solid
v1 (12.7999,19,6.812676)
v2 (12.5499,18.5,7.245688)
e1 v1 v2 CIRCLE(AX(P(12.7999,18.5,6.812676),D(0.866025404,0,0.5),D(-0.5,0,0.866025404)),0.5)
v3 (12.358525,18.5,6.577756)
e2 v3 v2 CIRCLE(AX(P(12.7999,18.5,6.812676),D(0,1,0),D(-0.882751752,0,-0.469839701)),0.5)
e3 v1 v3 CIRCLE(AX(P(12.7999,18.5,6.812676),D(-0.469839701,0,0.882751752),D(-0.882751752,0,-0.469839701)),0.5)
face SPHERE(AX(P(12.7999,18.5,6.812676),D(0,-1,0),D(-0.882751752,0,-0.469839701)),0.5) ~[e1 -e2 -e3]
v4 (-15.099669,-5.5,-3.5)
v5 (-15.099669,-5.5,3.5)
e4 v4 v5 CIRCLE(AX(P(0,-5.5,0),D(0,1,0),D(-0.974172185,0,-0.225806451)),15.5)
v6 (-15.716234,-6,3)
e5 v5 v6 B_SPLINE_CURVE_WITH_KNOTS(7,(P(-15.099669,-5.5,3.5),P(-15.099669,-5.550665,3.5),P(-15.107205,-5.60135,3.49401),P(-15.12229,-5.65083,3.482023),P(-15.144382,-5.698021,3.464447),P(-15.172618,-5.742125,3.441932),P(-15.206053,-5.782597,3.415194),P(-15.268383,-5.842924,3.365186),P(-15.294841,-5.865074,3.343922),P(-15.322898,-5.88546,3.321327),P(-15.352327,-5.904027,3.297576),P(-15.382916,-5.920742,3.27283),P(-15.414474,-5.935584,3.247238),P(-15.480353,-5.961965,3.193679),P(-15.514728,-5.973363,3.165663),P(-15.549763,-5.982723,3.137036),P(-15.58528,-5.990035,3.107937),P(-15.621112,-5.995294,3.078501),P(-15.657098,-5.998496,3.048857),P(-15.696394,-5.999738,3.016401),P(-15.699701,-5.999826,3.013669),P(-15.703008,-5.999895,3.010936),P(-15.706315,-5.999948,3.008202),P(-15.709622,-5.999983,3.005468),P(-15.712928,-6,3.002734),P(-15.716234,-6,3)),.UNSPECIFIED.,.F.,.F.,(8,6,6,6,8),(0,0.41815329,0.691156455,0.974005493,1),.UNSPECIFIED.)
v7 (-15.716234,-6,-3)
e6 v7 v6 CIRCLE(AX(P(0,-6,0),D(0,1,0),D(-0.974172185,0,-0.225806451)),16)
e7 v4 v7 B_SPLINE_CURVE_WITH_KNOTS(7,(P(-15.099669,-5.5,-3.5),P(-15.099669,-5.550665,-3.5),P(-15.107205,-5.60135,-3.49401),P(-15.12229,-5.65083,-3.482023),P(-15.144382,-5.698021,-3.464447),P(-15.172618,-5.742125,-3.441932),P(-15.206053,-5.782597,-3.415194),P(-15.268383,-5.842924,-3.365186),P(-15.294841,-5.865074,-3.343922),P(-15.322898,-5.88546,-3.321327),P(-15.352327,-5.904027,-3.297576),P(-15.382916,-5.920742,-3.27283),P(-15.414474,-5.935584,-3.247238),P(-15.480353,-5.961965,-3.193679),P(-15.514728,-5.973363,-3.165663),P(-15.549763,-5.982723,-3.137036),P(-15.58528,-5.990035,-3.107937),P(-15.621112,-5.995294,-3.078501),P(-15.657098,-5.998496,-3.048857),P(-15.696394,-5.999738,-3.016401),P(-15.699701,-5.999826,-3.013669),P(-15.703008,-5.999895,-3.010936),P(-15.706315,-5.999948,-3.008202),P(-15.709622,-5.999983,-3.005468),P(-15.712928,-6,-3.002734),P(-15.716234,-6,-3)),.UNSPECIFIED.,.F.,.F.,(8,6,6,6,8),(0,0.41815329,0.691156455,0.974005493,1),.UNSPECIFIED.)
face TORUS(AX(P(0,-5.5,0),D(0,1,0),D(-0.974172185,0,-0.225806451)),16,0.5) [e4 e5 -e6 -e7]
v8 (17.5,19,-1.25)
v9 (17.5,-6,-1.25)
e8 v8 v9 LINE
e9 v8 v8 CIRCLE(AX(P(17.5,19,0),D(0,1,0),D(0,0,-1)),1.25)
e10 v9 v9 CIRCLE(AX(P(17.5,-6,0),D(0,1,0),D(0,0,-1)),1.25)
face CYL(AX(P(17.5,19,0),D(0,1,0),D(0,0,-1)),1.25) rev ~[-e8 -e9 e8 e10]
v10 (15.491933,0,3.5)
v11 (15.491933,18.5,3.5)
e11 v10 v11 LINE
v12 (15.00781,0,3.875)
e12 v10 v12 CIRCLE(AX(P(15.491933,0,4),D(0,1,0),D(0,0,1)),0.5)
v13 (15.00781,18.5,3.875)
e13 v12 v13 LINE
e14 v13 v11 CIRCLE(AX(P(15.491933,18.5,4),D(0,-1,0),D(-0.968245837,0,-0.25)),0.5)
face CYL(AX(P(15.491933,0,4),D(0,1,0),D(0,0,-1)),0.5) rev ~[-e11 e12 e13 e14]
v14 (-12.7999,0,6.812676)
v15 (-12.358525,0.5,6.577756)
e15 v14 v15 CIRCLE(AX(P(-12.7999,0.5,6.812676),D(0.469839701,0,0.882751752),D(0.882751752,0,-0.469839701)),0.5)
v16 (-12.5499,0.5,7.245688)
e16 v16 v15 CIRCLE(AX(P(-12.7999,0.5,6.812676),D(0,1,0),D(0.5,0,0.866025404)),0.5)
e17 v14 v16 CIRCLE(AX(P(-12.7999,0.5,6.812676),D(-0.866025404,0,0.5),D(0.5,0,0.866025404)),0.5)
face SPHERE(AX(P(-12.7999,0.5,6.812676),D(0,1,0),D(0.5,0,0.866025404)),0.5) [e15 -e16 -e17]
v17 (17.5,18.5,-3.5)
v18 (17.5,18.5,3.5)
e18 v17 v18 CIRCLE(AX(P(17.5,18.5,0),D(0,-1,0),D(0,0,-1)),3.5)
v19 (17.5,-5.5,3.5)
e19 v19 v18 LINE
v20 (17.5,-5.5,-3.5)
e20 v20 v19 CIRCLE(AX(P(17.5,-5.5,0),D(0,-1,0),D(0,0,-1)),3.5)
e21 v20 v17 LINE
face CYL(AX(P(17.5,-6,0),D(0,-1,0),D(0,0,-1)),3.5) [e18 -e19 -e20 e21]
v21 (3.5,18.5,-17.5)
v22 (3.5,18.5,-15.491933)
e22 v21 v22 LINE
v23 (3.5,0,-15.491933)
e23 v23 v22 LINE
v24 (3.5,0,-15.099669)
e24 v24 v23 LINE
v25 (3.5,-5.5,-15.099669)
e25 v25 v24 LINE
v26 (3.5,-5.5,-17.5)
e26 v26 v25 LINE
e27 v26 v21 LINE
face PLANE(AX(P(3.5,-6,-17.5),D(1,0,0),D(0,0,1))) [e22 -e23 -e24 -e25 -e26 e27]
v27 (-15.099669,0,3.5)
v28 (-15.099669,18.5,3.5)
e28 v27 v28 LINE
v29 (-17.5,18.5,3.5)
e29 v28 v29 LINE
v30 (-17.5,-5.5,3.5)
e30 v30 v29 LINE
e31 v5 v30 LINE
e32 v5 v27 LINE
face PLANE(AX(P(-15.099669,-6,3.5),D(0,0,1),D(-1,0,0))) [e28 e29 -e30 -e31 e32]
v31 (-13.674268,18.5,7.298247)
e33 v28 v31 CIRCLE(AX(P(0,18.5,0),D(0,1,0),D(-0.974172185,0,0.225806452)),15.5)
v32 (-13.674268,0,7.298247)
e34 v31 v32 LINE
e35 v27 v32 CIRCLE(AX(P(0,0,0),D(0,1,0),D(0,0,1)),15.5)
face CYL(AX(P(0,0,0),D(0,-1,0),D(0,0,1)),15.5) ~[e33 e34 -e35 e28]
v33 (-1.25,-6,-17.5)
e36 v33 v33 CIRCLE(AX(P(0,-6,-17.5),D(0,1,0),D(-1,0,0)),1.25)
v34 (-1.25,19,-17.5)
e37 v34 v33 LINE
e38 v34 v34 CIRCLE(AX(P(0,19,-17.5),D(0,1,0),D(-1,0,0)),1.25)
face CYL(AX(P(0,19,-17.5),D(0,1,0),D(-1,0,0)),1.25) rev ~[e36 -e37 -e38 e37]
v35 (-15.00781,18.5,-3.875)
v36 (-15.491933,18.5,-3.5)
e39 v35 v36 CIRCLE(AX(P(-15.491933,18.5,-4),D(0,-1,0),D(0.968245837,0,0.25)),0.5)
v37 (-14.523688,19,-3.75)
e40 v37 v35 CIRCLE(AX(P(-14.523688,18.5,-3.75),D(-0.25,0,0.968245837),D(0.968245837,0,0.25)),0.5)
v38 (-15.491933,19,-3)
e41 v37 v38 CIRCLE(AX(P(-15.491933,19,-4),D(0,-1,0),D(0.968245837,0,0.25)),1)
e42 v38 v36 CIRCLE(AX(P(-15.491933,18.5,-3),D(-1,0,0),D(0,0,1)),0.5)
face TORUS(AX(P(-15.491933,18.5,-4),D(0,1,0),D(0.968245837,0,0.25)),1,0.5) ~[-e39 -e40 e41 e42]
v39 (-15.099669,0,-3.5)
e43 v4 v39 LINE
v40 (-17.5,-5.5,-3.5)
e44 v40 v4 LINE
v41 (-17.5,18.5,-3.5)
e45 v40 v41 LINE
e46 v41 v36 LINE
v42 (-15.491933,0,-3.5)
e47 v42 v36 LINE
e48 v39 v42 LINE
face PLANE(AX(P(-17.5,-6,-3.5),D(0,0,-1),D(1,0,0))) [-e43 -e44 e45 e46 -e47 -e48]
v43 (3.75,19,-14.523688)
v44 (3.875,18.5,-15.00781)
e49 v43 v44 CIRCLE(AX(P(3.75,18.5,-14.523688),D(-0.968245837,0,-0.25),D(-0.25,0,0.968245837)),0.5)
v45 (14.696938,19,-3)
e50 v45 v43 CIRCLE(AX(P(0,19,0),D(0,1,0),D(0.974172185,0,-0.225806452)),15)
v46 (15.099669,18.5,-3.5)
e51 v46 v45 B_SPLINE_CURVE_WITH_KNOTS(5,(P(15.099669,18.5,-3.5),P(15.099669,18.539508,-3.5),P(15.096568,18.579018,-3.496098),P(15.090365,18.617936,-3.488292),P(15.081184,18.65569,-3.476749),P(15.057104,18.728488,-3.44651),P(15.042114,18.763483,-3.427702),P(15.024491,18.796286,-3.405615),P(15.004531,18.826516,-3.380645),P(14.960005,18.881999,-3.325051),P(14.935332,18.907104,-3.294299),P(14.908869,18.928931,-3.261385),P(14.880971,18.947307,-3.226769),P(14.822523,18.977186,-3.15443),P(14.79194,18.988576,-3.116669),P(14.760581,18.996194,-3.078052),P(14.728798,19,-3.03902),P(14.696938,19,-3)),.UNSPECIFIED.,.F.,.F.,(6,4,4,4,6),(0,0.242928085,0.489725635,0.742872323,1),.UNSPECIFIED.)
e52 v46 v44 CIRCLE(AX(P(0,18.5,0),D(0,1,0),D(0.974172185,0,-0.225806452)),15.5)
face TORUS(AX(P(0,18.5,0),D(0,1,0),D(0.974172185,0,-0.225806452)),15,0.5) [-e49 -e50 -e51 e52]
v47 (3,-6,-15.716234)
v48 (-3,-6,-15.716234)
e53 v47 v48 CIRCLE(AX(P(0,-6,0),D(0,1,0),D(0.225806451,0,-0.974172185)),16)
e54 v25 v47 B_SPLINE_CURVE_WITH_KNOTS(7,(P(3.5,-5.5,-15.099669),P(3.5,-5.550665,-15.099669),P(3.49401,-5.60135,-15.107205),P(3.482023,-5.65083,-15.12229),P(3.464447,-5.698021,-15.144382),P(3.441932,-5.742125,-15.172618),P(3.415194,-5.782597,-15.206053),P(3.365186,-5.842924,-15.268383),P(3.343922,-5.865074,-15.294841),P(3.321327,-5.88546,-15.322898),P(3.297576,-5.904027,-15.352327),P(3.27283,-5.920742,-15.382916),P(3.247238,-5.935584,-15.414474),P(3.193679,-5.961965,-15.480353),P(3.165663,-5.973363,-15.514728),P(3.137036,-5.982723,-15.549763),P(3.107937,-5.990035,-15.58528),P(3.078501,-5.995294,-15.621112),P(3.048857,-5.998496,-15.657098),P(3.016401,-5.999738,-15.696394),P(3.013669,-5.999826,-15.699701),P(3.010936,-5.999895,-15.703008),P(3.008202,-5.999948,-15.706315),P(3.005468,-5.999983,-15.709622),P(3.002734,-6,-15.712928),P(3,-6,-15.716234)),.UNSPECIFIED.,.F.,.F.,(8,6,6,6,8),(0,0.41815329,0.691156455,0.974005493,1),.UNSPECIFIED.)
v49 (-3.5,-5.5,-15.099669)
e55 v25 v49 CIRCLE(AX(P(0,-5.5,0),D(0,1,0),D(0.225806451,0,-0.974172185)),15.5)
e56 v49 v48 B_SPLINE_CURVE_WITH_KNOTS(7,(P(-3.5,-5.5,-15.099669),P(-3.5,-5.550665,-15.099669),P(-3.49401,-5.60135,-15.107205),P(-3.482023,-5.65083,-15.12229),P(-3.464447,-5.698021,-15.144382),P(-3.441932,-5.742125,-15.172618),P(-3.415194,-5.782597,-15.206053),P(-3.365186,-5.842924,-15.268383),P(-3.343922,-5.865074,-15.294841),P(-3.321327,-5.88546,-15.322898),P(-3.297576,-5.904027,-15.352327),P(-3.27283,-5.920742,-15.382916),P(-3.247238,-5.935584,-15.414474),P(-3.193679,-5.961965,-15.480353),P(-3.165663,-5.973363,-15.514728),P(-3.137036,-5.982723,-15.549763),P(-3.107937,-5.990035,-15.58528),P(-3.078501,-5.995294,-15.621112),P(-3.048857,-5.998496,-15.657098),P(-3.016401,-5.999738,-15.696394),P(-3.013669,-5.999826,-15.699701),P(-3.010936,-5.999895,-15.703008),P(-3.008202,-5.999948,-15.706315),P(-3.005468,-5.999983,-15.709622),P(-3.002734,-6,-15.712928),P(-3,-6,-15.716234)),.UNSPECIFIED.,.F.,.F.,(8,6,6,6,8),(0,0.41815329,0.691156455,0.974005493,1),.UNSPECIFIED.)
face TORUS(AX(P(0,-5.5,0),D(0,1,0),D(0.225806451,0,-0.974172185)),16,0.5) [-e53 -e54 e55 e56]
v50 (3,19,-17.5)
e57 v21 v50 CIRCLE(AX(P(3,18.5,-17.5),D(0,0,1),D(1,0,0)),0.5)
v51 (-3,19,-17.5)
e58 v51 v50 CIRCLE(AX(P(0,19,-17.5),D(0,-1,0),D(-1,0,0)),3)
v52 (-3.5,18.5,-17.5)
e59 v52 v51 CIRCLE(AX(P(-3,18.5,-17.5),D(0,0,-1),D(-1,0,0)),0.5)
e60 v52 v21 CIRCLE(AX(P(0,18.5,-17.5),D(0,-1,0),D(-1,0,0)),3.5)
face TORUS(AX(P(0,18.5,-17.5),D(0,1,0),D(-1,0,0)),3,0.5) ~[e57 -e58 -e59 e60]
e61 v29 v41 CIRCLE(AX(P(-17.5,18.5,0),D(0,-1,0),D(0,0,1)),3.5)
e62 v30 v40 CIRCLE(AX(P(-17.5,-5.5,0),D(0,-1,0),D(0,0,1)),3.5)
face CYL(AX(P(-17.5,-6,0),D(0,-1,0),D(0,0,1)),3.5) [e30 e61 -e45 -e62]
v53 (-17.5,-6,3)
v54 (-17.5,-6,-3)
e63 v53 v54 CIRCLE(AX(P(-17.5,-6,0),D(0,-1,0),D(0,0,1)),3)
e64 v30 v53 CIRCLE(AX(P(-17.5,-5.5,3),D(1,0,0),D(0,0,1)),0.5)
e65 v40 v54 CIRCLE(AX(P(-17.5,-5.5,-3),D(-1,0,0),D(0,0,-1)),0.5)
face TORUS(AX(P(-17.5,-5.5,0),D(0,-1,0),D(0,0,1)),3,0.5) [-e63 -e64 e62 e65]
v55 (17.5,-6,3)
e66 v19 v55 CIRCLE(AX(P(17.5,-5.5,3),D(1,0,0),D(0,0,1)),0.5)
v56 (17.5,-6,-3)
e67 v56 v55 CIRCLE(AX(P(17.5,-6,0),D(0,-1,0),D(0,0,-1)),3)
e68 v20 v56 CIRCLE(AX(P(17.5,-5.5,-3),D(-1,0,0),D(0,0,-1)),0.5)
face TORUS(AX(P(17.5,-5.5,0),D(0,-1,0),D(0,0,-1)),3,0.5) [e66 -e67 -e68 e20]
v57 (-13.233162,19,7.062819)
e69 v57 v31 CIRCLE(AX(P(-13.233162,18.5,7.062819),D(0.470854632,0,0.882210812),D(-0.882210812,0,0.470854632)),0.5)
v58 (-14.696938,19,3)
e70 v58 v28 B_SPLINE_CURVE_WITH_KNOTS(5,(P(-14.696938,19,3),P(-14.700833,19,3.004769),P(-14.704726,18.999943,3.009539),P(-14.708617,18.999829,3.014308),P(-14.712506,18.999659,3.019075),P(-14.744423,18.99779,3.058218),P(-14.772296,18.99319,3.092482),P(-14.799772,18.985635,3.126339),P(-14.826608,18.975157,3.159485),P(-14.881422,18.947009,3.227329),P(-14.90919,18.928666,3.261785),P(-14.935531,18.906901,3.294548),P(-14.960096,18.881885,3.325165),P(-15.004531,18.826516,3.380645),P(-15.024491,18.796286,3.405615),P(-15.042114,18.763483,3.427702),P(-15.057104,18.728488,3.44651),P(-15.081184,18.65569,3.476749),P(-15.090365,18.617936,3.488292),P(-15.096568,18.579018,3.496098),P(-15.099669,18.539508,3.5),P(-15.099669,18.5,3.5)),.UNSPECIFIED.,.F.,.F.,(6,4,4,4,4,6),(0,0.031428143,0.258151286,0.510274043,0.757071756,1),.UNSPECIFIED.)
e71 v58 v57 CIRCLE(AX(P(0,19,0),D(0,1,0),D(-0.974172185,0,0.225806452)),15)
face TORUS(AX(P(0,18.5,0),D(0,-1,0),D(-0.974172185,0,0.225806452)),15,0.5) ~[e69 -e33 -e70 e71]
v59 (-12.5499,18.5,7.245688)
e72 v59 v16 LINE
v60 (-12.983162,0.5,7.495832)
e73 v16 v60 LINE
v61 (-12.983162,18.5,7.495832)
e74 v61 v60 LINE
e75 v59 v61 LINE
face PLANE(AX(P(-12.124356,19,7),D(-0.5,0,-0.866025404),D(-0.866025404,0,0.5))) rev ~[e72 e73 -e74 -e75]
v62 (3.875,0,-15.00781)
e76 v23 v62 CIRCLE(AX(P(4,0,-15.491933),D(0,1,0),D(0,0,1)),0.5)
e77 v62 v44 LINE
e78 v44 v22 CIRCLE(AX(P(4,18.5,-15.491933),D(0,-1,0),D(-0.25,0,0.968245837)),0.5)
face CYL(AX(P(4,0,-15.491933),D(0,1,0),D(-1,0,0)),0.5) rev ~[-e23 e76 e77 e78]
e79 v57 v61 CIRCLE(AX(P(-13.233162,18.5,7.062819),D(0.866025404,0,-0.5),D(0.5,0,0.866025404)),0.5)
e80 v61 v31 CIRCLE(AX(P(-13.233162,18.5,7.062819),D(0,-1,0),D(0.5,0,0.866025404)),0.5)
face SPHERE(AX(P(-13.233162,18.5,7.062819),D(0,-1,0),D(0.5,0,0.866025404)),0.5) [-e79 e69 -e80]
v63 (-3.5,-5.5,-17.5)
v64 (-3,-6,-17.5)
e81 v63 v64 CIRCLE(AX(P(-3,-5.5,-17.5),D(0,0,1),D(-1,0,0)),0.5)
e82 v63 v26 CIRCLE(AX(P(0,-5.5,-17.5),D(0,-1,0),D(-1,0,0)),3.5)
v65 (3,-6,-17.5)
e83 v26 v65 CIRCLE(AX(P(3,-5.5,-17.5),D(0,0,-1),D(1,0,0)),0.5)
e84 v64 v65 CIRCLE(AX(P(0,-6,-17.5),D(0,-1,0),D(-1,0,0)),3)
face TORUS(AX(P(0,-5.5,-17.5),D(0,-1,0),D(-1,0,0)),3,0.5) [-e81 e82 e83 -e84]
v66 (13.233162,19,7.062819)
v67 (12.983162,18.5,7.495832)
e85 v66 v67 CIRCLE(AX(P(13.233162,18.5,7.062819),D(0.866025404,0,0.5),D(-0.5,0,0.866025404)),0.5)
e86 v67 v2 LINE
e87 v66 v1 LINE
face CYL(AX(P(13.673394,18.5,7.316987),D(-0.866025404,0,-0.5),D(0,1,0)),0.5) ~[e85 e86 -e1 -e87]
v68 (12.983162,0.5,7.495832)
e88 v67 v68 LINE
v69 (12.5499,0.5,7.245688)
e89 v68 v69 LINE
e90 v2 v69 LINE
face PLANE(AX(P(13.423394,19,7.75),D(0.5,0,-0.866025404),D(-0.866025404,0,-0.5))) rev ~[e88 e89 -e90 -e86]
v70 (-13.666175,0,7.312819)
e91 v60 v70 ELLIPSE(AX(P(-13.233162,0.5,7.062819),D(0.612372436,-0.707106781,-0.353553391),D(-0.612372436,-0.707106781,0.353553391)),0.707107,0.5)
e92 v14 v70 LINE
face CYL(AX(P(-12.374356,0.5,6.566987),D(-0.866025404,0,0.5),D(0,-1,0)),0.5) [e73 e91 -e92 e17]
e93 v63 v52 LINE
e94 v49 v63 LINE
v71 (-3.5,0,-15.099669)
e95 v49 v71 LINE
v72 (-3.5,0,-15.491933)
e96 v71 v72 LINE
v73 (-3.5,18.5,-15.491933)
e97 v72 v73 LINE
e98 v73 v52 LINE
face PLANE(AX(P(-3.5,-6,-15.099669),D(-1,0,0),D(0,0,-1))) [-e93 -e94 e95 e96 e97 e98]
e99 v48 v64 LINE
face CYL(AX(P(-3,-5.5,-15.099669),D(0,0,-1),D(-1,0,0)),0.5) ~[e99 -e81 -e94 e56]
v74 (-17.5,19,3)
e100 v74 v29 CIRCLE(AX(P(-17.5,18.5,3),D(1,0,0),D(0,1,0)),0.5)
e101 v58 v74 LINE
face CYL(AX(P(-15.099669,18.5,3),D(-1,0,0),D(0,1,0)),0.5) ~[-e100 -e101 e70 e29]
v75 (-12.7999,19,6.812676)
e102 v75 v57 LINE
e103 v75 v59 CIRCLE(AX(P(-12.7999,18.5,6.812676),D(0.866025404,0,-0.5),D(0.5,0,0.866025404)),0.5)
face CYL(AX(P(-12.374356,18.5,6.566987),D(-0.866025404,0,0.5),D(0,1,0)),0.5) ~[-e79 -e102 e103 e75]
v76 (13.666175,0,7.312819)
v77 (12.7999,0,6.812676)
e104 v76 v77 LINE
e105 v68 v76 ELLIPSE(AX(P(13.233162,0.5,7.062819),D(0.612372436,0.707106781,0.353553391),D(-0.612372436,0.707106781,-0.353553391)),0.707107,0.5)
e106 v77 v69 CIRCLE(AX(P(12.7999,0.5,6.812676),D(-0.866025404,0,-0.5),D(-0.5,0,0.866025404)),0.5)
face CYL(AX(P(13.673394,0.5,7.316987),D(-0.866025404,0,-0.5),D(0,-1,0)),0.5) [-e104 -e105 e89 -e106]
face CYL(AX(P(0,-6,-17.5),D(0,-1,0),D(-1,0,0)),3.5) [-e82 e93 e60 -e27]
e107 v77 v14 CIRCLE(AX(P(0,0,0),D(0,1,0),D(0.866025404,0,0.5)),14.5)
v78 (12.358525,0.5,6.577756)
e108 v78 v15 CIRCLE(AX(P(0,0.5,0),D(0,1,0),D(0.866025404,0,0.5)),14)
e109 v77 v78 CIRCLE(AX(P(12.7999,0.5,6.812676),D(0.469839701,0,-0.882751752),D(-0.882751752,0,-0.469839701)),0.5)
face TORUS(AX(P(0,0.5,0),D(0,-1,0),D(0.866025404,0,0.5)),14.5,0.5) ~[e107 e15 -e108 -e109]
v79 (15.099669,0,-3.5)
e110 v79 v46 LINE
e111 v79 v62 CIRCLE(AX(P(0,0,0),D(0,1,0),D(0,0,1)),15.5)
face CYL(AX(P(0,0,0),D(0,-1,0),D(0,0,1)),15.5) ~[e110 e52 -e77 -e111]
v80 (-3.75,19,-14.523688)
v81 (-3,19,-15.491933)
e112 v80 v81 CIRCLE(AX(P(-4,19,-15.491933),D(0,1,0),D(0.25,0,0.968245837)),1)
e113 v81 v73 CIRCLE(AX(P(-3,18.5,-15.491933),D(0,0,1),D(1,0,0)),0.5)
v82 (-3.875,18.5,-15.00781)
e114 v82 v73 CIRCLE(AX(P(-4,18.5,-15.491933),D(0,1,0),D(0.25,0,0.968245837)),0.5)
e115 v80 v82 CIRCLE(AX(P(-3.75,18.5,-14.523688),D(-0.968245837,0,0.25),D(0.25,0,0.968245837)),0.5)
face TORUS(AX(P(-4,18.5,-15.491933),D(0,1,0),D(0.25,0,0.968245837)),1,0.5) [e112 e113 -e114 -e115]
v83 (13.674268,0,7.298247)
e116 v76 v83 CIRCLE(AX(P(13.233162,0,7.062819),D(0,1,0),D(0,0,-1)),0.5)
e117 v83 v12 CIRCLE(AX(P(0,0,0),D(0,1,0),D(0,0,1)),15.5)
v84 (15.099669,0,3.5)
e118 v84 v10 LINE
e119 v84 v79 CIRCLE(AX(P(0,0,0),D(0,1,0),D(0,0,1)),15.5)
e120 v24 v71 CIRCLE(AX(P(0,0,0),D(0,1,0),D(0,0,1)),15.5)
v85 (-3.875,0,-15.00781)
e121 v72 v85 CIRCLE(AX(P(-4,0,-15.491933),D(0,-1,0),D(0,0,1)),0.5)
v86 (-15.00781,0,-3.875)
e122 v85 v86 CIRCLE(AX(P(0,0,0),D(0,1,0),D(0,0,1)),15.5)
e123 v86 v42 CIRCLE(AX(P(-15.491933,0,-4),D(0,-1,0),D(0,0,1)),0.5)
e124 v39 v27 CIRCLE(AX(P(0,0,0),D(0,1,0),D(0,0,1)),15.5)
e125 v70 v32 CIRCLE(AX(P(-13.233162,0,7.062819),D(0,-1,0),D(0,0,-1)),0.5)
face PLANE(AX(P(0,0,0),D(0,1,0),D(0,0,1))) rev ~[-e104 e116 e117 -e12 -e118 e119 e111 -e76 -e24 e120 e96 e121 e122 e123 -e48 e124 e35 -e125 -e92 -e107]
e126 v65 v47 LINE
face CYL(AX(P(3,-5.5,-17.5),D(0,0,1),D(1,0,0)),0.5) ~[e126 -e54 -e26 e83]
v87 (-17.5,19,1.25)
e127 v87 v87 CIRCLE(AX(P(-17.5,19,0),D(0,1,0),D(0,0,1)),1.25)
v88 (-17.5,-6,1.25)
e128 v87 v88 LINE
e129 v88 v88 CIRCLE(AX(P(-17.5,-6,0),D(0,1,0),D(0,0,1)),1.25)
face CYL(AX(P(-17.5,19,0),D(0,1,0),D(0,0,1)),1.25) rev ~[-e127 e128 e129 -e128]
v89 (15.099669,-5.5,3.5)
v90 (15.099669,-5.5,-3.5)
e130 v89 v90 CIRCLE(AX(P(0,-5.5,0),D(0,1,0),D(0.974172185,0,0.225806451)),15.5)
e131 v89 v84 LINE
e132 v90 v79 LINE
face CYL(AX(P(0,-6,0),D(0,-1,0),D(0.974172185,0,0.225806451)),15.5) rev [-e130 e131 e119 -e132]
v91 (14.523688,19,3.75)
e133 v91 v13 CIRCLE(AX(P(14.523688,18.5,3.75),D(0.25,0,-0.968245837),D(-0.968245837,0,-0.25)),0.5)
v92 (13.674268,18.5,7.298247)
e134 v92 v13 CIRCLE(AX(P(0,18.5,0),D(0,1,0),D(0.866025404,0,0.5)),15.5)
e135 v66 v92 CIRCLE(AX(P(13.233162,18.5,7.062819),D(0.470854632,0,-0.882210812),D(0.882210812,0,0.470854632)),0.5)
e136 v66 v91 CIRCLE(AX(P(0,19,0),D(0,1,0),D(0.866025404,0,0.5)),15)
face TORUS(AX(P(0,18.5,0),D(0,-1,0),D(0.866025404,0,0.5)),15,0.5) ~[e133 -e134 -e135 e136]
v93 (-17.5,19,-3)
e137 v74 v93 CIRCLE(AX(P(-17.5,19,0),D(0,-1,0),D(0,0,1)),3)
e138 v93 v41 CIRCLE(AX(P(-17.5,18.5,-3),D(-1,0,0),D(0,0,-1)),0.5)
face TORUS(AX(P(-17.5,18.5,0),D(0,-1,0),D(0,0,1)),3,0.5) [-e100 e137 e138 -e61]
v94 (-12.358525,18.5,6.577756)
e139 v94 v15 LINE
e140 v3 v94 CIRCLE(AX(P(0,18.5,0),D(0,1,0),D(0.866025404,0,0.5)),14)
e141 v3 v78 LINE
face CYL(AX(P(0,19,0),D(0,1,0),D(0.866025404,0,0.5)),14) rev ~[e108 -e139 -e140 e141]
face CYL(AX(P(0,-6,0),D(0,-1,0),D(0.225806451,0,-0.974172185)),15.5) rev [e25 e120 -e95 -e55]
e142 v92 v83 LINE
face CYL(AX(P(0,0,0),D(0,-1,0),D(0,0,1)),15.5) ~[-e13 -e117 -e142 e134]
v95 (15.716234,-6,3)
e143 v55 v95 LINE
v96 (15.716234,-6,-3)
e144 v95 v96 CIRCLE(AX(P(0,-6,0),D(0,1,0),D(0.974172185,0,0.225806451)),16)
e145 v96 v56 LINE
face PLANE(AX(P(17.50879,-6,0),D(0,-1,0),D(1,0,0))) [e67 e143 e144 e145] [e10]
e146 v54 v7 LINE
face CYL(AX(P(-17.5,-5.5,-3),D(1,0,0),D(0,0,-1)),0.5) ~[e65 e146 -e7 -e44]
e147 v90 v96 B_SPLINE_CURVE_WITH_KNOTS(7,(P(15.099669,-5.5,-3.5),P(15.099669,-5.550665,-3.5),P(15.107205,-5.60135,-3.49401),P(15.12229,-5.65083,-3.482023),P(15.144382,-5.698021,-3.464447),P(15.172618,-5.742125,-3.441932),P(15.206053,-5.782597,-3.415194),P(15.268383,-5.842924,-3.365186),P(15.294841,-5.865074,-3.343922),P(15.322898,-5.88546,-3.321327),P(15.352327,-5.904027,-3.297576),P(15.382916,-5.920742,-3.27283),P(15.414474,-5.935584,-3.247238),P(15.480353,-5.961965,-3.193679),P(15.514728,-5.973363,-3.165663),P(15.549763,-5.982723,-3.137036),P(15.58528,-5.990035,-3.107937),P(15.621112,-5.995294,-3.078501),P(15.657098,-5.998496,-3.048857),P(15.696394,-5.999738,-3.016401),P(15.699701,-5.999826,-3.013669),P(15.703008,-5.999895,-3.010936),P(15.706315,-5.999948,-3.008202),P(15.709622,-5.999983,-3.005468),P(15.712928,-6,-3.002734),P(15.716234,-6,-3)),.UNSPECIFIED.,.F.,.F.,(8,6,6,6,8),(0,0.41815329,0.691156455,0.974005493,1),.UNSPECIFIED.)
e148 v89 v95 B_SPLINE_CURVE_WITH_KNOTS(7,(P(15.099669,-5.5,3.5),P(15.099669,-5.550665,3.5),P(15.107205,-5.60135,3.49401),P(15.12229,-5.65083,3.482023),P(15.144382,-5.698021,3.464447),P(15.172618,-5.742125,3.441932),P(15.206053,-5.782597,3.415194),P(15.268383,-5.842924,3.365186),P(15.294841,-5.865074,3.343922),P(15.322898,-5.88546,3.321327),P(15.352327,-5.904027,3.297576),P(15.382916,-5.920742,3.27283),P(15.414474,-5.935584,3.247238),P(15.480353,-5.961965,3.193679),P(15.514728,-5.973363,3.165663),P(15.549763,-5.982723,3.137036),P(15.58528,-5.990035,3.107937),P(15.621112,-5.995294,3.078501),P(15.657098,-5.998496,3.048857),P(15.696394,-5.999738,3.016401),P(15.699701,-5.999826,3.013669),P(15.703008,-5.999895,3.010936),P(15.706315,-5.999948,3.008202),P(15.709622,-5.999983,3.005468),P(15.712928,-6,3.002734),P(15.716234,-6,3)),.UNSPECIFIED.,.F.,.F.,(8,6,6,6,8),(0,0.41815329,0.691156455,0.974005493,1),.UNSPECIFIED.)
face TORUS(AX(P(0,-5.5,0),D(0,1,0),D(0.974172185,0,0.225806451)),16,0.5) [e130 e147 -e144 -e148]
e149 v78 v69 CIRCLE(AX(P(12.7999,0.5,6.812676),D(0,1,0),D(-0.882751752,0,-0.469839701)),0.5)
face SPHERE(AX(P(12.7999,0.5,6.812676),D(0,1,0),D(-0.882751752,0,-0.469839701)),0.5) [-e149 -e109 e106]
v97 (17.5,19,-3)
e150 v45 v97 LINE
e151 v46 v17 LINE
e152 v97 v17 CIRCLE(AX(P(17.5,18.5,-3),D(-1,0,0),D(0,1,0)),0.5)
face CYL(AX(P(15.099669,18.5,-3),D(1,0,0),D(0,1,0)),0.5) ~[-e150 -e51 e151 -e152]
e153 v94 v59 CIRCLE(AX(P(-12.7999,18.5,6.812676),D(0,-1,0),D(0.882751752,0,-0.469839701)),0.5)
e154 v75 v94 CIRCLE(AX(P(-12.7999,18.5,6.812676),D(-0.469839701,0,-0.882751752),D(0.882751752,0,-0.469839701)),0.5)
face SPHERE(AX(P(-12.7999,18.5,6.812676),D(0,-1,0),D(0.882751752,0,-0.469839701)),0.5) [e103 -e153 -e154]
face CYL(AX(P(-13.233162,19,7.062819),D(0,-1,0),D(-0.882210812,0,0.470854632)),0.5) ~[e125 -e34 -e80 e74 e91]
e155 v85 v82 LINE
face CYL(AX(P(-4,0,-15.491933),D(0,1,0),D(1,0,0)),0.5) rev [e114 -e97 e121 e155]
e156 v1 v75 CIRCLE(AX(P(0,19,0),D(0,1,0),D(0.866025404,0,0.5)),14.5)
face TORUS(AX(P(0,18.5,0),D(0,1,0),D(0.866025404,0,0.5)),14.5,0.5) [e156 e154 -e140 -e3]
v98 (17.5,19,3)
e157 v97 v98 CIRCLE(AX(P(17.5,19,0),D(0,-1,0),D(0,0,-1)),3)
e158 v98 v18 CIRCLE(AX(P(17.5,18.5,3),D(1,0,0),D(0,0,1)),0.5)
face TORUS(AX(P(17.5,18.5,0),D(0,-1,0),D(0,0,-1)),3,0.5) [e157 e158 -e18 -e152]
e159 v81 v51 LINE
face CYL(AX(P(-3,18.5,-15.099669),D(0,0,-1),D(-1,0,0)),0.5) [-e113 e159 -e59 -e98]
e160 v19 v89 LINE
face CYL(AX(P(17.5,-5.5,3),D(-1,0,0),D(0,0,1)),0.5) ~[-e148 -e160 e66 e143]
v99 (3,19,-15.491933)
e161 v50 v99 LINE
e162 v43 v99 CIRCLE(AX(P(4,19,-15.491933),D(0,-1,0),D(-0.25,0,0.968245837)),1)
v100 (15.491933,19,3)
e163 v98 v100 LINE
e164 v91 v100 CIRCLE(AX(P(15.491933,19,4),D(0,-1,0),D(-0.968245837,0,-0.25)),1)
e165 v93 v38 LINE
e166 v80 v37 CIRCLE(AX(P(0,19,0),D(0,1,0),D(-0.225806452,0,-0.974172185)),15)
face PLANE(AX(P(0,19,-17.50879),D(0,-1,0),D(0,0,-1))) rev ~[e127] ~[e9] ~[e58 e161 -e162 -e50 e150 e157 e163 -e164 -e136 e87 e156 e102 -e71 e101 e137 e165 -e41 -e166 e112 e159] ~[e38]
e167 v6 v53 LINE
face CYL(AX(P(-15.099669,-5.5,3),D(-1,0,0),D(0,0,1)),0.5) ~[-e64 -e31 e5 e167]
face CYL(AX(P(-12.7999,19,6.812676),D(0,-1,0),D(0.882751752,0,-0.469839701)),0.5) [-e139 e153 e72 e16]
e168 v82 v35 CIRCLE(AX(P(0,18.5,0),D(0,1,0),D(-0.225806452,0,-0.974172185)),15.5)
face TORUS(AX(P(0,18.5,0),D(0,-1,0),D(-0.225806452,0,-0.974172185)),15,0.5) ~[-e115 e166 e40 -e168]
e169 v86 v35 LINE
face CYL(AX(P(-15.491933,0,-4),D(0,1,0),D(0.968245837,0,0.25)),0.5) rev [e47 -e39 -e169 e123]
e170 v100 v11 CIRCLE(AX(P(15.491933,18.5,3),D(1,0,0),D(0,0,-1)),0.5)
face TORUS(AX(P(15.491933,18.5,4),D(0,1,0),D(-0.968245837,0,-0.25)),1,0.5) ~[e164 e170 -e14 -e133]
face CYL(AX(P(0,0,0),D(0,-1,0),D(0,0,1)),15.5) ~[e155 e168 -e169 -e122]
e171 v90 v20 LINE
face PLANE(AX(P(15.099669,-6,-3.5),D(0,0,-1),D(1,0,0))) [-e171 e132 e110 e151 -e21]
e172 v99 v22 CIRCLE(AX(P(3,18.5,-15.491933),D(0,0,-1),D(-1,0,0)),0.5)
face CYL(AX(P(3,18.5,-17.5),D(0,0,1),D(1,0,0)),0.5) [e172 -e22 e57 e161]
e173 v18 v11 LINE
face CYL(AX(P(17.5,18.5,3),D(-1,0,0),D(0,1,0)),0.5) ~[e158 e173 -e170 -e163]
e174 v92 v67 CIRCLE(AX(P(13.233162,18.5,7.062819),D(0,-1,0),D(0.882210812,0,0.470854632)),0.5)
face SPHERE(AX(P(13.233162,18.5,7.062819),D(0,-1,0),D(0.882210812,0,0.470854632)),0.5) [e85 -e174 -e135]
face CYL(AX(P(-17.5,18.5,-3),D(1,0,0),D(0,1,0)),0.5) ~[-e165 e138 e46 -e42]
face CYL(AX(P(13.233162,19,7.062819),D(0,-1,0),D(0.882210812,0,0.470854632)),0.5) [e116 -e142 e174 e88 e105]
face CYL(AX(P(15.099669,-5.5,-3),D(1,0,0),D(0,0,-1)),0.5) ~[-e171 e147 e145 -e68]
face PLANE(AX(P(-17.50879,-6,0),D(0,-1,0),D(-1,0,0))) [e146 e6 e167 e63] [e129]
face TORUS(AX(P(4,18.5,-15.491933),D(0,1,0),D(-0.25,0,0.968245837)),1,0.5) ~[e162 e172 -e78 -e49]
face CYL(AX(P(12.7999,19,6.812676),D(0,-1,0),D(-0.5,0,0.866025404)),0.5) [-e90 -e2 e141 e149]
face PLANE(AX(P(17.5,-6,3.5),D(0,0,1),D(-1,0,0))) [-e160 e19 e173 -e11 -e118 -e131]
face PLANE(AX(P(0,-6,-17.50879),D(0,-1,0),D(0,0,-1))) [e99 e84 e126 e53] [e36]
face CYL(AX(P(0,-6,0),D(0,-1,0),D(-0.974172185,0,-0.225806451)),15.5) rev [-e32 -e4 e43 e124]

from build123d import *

# Parameters (mm, degrees)
SKETCH1_R       = 15.5
BODY_DEPTH      = 19
MOTORHOLE_DEPTH = 30.008619409
MOUNT_START     = -25
MOUNT_DEPTH     = 25
SKETCH8_R       = 1.25
MOUNTHOLE_DEPTH = 37.142080737
MOUNTS_COUNT    = 3
MOUNTS_ANGLE    = 180
FILLET4_R       = 0.5


with BuildPart() as part:
    # Sketch1 → Body (new body)
    with BuildSketch(Plane(origin=(0, 0, 0), x_dir=(1, 0, 0), z_dir=(0, 1, 0))):
        with Locations(Location((0, 0, 0), (0, 0, 270))):
            Circle(SKETCH1_R)
    extrude(amount=BODY_DEPTH)

    # Sketch5 → MotorHole (cut, through all)
    with BuildSketch(Plane(origin=(0, 19, 0), x_dir=(1, 0, 0), z_dir=(0, 1, 0))):
        with BuildLine():
            Line((-12.124355653, -7), (-13.423393759, -7.75))
            ThreePointArc((-13.423393759, -7.75), (0, -15.5), (13.423393759, -7.75))
            Line((13.423393759, -7.75), (12.124355653, -7))
            ThreePointArc((12.124355653, -7), (0, 14), (-12.124355653, -7))
        make_face()
    extrude(amount=-MOTORHOLE_DEPTH, mode=Mode.SUBTRACT)

    # Sketch2 → Mount (add)
    with BuildSketch(Plane(origin=(0, 19, 0), x_dir=(1, 0, 0), z_dir=(0, 1, 0)).offset(MOUNT_START)):
        with BuildLine():
            Line((-17.5, 3.5), (-15.099668871, 3.5))
            ThreePointArc((-15.099668871, 3.5), (-15.5, 0), (-15.099668871, -3.5))
            Line((-15.099668871, -3.5), (-17.5, -3.5))
            ThreePointArc((-17.5, -3.5), (-21, 0), (-17.5, 3.5))
        make_face()
    mount = extrude(amount=MOUNT_DEPTH)

    # Sketch8 → MountHole (cut, through all)
    with BuildSketch(Plane(origin=(0, 19, 0), x_dir=(1, 0, 0), z_dir=(0, 1, 0))):
        with Locations(Location((-17.5, 0, 0), (0, 0, 270))):
            Circle(SKETCH8_R)
    mounthole = extrude(amount=-MOUNTHOLE_DEPTH, mode=Mode.SUBTRACT)

    # MountS: Mount, MountHole ×3 about axis
    mounts_axis = Axis((0, 0, 0), (0, -1, 0))
    add([mount.rotate(mounts_axis, i * MOUNTS_ANGLE / (MOUNTS_COUNT - 1)) for i in range(1, MOUNTS_COUNT)])
    add([mounthole.rotate(mounts_axis, i * MOUNTS_ANGLE / (MOUNTS_COUNT - 1)) for i in range(1, MOUNTS_COUNT)], mode=Mode.SUBTRACT)

    # Fillet4
    fillet4_edges = [part.edges().sort_by_distance(p)[0] for p in [
        (12.773874706, 19, 7.375),
        (12.124355653, 9.5, 7),
        (13.423393759, 9.5, 7.75),
        (-12.773874706, 0, 7.375),
        (-13.423393759, 9.5, 7.75),
        (0, 0, -14),
        (-12.124355653, 9.5, 7),
        (12.773874706, 0, 7.375),
        (0, 19, -14),
        (-12.773874706, 19, 7.375),
        (-14.418977094, 19, 5.687099398),
        (-15.5, -6, 0),
        (-21, -6, 0),
        (-16.299834435, 19, -3.5),
        (-15.099668871, 9.5, -3.5),
        (-16.299834435, -6, 3.5),
        (-16.299834435, -6, -3.5),
        (-21, 19, 0),
        (-16.299834435, 19, 3.5),
        (14.418977094, 19, 5.687099398),
        (-10.960155108, 19, -10.960155108),
        (0, -6, -15.5),
        (0, -6, -21),
        (3.5, 19, -16.299834435),
        (3.5, 9.5, -15.099668871),
        (-3.5, -6, -16.299834435),
        (-3.5, 9.5, -15.099668871),
        (3.5, -6, -16.299834435),
        (0, 19, -21),
        (-3.5, 19, -16.299834435),
        (10.960155108, 19, -10.960155108),
        (15.5, -6, 0),
        (21, -6, 0),
        (16.299834435, 19, 3.5),
        (15.099668871, 9.5, 3.5),
        (16.299834435, -6, -3.5),
        (16.299834435, -6, 3.5),
        (21, 19, 0),
        (16.299834435, 19, -3.5),
    ]]
    fillet(fillet4_edges, radius=FILLET4_R)


solid = part.part
